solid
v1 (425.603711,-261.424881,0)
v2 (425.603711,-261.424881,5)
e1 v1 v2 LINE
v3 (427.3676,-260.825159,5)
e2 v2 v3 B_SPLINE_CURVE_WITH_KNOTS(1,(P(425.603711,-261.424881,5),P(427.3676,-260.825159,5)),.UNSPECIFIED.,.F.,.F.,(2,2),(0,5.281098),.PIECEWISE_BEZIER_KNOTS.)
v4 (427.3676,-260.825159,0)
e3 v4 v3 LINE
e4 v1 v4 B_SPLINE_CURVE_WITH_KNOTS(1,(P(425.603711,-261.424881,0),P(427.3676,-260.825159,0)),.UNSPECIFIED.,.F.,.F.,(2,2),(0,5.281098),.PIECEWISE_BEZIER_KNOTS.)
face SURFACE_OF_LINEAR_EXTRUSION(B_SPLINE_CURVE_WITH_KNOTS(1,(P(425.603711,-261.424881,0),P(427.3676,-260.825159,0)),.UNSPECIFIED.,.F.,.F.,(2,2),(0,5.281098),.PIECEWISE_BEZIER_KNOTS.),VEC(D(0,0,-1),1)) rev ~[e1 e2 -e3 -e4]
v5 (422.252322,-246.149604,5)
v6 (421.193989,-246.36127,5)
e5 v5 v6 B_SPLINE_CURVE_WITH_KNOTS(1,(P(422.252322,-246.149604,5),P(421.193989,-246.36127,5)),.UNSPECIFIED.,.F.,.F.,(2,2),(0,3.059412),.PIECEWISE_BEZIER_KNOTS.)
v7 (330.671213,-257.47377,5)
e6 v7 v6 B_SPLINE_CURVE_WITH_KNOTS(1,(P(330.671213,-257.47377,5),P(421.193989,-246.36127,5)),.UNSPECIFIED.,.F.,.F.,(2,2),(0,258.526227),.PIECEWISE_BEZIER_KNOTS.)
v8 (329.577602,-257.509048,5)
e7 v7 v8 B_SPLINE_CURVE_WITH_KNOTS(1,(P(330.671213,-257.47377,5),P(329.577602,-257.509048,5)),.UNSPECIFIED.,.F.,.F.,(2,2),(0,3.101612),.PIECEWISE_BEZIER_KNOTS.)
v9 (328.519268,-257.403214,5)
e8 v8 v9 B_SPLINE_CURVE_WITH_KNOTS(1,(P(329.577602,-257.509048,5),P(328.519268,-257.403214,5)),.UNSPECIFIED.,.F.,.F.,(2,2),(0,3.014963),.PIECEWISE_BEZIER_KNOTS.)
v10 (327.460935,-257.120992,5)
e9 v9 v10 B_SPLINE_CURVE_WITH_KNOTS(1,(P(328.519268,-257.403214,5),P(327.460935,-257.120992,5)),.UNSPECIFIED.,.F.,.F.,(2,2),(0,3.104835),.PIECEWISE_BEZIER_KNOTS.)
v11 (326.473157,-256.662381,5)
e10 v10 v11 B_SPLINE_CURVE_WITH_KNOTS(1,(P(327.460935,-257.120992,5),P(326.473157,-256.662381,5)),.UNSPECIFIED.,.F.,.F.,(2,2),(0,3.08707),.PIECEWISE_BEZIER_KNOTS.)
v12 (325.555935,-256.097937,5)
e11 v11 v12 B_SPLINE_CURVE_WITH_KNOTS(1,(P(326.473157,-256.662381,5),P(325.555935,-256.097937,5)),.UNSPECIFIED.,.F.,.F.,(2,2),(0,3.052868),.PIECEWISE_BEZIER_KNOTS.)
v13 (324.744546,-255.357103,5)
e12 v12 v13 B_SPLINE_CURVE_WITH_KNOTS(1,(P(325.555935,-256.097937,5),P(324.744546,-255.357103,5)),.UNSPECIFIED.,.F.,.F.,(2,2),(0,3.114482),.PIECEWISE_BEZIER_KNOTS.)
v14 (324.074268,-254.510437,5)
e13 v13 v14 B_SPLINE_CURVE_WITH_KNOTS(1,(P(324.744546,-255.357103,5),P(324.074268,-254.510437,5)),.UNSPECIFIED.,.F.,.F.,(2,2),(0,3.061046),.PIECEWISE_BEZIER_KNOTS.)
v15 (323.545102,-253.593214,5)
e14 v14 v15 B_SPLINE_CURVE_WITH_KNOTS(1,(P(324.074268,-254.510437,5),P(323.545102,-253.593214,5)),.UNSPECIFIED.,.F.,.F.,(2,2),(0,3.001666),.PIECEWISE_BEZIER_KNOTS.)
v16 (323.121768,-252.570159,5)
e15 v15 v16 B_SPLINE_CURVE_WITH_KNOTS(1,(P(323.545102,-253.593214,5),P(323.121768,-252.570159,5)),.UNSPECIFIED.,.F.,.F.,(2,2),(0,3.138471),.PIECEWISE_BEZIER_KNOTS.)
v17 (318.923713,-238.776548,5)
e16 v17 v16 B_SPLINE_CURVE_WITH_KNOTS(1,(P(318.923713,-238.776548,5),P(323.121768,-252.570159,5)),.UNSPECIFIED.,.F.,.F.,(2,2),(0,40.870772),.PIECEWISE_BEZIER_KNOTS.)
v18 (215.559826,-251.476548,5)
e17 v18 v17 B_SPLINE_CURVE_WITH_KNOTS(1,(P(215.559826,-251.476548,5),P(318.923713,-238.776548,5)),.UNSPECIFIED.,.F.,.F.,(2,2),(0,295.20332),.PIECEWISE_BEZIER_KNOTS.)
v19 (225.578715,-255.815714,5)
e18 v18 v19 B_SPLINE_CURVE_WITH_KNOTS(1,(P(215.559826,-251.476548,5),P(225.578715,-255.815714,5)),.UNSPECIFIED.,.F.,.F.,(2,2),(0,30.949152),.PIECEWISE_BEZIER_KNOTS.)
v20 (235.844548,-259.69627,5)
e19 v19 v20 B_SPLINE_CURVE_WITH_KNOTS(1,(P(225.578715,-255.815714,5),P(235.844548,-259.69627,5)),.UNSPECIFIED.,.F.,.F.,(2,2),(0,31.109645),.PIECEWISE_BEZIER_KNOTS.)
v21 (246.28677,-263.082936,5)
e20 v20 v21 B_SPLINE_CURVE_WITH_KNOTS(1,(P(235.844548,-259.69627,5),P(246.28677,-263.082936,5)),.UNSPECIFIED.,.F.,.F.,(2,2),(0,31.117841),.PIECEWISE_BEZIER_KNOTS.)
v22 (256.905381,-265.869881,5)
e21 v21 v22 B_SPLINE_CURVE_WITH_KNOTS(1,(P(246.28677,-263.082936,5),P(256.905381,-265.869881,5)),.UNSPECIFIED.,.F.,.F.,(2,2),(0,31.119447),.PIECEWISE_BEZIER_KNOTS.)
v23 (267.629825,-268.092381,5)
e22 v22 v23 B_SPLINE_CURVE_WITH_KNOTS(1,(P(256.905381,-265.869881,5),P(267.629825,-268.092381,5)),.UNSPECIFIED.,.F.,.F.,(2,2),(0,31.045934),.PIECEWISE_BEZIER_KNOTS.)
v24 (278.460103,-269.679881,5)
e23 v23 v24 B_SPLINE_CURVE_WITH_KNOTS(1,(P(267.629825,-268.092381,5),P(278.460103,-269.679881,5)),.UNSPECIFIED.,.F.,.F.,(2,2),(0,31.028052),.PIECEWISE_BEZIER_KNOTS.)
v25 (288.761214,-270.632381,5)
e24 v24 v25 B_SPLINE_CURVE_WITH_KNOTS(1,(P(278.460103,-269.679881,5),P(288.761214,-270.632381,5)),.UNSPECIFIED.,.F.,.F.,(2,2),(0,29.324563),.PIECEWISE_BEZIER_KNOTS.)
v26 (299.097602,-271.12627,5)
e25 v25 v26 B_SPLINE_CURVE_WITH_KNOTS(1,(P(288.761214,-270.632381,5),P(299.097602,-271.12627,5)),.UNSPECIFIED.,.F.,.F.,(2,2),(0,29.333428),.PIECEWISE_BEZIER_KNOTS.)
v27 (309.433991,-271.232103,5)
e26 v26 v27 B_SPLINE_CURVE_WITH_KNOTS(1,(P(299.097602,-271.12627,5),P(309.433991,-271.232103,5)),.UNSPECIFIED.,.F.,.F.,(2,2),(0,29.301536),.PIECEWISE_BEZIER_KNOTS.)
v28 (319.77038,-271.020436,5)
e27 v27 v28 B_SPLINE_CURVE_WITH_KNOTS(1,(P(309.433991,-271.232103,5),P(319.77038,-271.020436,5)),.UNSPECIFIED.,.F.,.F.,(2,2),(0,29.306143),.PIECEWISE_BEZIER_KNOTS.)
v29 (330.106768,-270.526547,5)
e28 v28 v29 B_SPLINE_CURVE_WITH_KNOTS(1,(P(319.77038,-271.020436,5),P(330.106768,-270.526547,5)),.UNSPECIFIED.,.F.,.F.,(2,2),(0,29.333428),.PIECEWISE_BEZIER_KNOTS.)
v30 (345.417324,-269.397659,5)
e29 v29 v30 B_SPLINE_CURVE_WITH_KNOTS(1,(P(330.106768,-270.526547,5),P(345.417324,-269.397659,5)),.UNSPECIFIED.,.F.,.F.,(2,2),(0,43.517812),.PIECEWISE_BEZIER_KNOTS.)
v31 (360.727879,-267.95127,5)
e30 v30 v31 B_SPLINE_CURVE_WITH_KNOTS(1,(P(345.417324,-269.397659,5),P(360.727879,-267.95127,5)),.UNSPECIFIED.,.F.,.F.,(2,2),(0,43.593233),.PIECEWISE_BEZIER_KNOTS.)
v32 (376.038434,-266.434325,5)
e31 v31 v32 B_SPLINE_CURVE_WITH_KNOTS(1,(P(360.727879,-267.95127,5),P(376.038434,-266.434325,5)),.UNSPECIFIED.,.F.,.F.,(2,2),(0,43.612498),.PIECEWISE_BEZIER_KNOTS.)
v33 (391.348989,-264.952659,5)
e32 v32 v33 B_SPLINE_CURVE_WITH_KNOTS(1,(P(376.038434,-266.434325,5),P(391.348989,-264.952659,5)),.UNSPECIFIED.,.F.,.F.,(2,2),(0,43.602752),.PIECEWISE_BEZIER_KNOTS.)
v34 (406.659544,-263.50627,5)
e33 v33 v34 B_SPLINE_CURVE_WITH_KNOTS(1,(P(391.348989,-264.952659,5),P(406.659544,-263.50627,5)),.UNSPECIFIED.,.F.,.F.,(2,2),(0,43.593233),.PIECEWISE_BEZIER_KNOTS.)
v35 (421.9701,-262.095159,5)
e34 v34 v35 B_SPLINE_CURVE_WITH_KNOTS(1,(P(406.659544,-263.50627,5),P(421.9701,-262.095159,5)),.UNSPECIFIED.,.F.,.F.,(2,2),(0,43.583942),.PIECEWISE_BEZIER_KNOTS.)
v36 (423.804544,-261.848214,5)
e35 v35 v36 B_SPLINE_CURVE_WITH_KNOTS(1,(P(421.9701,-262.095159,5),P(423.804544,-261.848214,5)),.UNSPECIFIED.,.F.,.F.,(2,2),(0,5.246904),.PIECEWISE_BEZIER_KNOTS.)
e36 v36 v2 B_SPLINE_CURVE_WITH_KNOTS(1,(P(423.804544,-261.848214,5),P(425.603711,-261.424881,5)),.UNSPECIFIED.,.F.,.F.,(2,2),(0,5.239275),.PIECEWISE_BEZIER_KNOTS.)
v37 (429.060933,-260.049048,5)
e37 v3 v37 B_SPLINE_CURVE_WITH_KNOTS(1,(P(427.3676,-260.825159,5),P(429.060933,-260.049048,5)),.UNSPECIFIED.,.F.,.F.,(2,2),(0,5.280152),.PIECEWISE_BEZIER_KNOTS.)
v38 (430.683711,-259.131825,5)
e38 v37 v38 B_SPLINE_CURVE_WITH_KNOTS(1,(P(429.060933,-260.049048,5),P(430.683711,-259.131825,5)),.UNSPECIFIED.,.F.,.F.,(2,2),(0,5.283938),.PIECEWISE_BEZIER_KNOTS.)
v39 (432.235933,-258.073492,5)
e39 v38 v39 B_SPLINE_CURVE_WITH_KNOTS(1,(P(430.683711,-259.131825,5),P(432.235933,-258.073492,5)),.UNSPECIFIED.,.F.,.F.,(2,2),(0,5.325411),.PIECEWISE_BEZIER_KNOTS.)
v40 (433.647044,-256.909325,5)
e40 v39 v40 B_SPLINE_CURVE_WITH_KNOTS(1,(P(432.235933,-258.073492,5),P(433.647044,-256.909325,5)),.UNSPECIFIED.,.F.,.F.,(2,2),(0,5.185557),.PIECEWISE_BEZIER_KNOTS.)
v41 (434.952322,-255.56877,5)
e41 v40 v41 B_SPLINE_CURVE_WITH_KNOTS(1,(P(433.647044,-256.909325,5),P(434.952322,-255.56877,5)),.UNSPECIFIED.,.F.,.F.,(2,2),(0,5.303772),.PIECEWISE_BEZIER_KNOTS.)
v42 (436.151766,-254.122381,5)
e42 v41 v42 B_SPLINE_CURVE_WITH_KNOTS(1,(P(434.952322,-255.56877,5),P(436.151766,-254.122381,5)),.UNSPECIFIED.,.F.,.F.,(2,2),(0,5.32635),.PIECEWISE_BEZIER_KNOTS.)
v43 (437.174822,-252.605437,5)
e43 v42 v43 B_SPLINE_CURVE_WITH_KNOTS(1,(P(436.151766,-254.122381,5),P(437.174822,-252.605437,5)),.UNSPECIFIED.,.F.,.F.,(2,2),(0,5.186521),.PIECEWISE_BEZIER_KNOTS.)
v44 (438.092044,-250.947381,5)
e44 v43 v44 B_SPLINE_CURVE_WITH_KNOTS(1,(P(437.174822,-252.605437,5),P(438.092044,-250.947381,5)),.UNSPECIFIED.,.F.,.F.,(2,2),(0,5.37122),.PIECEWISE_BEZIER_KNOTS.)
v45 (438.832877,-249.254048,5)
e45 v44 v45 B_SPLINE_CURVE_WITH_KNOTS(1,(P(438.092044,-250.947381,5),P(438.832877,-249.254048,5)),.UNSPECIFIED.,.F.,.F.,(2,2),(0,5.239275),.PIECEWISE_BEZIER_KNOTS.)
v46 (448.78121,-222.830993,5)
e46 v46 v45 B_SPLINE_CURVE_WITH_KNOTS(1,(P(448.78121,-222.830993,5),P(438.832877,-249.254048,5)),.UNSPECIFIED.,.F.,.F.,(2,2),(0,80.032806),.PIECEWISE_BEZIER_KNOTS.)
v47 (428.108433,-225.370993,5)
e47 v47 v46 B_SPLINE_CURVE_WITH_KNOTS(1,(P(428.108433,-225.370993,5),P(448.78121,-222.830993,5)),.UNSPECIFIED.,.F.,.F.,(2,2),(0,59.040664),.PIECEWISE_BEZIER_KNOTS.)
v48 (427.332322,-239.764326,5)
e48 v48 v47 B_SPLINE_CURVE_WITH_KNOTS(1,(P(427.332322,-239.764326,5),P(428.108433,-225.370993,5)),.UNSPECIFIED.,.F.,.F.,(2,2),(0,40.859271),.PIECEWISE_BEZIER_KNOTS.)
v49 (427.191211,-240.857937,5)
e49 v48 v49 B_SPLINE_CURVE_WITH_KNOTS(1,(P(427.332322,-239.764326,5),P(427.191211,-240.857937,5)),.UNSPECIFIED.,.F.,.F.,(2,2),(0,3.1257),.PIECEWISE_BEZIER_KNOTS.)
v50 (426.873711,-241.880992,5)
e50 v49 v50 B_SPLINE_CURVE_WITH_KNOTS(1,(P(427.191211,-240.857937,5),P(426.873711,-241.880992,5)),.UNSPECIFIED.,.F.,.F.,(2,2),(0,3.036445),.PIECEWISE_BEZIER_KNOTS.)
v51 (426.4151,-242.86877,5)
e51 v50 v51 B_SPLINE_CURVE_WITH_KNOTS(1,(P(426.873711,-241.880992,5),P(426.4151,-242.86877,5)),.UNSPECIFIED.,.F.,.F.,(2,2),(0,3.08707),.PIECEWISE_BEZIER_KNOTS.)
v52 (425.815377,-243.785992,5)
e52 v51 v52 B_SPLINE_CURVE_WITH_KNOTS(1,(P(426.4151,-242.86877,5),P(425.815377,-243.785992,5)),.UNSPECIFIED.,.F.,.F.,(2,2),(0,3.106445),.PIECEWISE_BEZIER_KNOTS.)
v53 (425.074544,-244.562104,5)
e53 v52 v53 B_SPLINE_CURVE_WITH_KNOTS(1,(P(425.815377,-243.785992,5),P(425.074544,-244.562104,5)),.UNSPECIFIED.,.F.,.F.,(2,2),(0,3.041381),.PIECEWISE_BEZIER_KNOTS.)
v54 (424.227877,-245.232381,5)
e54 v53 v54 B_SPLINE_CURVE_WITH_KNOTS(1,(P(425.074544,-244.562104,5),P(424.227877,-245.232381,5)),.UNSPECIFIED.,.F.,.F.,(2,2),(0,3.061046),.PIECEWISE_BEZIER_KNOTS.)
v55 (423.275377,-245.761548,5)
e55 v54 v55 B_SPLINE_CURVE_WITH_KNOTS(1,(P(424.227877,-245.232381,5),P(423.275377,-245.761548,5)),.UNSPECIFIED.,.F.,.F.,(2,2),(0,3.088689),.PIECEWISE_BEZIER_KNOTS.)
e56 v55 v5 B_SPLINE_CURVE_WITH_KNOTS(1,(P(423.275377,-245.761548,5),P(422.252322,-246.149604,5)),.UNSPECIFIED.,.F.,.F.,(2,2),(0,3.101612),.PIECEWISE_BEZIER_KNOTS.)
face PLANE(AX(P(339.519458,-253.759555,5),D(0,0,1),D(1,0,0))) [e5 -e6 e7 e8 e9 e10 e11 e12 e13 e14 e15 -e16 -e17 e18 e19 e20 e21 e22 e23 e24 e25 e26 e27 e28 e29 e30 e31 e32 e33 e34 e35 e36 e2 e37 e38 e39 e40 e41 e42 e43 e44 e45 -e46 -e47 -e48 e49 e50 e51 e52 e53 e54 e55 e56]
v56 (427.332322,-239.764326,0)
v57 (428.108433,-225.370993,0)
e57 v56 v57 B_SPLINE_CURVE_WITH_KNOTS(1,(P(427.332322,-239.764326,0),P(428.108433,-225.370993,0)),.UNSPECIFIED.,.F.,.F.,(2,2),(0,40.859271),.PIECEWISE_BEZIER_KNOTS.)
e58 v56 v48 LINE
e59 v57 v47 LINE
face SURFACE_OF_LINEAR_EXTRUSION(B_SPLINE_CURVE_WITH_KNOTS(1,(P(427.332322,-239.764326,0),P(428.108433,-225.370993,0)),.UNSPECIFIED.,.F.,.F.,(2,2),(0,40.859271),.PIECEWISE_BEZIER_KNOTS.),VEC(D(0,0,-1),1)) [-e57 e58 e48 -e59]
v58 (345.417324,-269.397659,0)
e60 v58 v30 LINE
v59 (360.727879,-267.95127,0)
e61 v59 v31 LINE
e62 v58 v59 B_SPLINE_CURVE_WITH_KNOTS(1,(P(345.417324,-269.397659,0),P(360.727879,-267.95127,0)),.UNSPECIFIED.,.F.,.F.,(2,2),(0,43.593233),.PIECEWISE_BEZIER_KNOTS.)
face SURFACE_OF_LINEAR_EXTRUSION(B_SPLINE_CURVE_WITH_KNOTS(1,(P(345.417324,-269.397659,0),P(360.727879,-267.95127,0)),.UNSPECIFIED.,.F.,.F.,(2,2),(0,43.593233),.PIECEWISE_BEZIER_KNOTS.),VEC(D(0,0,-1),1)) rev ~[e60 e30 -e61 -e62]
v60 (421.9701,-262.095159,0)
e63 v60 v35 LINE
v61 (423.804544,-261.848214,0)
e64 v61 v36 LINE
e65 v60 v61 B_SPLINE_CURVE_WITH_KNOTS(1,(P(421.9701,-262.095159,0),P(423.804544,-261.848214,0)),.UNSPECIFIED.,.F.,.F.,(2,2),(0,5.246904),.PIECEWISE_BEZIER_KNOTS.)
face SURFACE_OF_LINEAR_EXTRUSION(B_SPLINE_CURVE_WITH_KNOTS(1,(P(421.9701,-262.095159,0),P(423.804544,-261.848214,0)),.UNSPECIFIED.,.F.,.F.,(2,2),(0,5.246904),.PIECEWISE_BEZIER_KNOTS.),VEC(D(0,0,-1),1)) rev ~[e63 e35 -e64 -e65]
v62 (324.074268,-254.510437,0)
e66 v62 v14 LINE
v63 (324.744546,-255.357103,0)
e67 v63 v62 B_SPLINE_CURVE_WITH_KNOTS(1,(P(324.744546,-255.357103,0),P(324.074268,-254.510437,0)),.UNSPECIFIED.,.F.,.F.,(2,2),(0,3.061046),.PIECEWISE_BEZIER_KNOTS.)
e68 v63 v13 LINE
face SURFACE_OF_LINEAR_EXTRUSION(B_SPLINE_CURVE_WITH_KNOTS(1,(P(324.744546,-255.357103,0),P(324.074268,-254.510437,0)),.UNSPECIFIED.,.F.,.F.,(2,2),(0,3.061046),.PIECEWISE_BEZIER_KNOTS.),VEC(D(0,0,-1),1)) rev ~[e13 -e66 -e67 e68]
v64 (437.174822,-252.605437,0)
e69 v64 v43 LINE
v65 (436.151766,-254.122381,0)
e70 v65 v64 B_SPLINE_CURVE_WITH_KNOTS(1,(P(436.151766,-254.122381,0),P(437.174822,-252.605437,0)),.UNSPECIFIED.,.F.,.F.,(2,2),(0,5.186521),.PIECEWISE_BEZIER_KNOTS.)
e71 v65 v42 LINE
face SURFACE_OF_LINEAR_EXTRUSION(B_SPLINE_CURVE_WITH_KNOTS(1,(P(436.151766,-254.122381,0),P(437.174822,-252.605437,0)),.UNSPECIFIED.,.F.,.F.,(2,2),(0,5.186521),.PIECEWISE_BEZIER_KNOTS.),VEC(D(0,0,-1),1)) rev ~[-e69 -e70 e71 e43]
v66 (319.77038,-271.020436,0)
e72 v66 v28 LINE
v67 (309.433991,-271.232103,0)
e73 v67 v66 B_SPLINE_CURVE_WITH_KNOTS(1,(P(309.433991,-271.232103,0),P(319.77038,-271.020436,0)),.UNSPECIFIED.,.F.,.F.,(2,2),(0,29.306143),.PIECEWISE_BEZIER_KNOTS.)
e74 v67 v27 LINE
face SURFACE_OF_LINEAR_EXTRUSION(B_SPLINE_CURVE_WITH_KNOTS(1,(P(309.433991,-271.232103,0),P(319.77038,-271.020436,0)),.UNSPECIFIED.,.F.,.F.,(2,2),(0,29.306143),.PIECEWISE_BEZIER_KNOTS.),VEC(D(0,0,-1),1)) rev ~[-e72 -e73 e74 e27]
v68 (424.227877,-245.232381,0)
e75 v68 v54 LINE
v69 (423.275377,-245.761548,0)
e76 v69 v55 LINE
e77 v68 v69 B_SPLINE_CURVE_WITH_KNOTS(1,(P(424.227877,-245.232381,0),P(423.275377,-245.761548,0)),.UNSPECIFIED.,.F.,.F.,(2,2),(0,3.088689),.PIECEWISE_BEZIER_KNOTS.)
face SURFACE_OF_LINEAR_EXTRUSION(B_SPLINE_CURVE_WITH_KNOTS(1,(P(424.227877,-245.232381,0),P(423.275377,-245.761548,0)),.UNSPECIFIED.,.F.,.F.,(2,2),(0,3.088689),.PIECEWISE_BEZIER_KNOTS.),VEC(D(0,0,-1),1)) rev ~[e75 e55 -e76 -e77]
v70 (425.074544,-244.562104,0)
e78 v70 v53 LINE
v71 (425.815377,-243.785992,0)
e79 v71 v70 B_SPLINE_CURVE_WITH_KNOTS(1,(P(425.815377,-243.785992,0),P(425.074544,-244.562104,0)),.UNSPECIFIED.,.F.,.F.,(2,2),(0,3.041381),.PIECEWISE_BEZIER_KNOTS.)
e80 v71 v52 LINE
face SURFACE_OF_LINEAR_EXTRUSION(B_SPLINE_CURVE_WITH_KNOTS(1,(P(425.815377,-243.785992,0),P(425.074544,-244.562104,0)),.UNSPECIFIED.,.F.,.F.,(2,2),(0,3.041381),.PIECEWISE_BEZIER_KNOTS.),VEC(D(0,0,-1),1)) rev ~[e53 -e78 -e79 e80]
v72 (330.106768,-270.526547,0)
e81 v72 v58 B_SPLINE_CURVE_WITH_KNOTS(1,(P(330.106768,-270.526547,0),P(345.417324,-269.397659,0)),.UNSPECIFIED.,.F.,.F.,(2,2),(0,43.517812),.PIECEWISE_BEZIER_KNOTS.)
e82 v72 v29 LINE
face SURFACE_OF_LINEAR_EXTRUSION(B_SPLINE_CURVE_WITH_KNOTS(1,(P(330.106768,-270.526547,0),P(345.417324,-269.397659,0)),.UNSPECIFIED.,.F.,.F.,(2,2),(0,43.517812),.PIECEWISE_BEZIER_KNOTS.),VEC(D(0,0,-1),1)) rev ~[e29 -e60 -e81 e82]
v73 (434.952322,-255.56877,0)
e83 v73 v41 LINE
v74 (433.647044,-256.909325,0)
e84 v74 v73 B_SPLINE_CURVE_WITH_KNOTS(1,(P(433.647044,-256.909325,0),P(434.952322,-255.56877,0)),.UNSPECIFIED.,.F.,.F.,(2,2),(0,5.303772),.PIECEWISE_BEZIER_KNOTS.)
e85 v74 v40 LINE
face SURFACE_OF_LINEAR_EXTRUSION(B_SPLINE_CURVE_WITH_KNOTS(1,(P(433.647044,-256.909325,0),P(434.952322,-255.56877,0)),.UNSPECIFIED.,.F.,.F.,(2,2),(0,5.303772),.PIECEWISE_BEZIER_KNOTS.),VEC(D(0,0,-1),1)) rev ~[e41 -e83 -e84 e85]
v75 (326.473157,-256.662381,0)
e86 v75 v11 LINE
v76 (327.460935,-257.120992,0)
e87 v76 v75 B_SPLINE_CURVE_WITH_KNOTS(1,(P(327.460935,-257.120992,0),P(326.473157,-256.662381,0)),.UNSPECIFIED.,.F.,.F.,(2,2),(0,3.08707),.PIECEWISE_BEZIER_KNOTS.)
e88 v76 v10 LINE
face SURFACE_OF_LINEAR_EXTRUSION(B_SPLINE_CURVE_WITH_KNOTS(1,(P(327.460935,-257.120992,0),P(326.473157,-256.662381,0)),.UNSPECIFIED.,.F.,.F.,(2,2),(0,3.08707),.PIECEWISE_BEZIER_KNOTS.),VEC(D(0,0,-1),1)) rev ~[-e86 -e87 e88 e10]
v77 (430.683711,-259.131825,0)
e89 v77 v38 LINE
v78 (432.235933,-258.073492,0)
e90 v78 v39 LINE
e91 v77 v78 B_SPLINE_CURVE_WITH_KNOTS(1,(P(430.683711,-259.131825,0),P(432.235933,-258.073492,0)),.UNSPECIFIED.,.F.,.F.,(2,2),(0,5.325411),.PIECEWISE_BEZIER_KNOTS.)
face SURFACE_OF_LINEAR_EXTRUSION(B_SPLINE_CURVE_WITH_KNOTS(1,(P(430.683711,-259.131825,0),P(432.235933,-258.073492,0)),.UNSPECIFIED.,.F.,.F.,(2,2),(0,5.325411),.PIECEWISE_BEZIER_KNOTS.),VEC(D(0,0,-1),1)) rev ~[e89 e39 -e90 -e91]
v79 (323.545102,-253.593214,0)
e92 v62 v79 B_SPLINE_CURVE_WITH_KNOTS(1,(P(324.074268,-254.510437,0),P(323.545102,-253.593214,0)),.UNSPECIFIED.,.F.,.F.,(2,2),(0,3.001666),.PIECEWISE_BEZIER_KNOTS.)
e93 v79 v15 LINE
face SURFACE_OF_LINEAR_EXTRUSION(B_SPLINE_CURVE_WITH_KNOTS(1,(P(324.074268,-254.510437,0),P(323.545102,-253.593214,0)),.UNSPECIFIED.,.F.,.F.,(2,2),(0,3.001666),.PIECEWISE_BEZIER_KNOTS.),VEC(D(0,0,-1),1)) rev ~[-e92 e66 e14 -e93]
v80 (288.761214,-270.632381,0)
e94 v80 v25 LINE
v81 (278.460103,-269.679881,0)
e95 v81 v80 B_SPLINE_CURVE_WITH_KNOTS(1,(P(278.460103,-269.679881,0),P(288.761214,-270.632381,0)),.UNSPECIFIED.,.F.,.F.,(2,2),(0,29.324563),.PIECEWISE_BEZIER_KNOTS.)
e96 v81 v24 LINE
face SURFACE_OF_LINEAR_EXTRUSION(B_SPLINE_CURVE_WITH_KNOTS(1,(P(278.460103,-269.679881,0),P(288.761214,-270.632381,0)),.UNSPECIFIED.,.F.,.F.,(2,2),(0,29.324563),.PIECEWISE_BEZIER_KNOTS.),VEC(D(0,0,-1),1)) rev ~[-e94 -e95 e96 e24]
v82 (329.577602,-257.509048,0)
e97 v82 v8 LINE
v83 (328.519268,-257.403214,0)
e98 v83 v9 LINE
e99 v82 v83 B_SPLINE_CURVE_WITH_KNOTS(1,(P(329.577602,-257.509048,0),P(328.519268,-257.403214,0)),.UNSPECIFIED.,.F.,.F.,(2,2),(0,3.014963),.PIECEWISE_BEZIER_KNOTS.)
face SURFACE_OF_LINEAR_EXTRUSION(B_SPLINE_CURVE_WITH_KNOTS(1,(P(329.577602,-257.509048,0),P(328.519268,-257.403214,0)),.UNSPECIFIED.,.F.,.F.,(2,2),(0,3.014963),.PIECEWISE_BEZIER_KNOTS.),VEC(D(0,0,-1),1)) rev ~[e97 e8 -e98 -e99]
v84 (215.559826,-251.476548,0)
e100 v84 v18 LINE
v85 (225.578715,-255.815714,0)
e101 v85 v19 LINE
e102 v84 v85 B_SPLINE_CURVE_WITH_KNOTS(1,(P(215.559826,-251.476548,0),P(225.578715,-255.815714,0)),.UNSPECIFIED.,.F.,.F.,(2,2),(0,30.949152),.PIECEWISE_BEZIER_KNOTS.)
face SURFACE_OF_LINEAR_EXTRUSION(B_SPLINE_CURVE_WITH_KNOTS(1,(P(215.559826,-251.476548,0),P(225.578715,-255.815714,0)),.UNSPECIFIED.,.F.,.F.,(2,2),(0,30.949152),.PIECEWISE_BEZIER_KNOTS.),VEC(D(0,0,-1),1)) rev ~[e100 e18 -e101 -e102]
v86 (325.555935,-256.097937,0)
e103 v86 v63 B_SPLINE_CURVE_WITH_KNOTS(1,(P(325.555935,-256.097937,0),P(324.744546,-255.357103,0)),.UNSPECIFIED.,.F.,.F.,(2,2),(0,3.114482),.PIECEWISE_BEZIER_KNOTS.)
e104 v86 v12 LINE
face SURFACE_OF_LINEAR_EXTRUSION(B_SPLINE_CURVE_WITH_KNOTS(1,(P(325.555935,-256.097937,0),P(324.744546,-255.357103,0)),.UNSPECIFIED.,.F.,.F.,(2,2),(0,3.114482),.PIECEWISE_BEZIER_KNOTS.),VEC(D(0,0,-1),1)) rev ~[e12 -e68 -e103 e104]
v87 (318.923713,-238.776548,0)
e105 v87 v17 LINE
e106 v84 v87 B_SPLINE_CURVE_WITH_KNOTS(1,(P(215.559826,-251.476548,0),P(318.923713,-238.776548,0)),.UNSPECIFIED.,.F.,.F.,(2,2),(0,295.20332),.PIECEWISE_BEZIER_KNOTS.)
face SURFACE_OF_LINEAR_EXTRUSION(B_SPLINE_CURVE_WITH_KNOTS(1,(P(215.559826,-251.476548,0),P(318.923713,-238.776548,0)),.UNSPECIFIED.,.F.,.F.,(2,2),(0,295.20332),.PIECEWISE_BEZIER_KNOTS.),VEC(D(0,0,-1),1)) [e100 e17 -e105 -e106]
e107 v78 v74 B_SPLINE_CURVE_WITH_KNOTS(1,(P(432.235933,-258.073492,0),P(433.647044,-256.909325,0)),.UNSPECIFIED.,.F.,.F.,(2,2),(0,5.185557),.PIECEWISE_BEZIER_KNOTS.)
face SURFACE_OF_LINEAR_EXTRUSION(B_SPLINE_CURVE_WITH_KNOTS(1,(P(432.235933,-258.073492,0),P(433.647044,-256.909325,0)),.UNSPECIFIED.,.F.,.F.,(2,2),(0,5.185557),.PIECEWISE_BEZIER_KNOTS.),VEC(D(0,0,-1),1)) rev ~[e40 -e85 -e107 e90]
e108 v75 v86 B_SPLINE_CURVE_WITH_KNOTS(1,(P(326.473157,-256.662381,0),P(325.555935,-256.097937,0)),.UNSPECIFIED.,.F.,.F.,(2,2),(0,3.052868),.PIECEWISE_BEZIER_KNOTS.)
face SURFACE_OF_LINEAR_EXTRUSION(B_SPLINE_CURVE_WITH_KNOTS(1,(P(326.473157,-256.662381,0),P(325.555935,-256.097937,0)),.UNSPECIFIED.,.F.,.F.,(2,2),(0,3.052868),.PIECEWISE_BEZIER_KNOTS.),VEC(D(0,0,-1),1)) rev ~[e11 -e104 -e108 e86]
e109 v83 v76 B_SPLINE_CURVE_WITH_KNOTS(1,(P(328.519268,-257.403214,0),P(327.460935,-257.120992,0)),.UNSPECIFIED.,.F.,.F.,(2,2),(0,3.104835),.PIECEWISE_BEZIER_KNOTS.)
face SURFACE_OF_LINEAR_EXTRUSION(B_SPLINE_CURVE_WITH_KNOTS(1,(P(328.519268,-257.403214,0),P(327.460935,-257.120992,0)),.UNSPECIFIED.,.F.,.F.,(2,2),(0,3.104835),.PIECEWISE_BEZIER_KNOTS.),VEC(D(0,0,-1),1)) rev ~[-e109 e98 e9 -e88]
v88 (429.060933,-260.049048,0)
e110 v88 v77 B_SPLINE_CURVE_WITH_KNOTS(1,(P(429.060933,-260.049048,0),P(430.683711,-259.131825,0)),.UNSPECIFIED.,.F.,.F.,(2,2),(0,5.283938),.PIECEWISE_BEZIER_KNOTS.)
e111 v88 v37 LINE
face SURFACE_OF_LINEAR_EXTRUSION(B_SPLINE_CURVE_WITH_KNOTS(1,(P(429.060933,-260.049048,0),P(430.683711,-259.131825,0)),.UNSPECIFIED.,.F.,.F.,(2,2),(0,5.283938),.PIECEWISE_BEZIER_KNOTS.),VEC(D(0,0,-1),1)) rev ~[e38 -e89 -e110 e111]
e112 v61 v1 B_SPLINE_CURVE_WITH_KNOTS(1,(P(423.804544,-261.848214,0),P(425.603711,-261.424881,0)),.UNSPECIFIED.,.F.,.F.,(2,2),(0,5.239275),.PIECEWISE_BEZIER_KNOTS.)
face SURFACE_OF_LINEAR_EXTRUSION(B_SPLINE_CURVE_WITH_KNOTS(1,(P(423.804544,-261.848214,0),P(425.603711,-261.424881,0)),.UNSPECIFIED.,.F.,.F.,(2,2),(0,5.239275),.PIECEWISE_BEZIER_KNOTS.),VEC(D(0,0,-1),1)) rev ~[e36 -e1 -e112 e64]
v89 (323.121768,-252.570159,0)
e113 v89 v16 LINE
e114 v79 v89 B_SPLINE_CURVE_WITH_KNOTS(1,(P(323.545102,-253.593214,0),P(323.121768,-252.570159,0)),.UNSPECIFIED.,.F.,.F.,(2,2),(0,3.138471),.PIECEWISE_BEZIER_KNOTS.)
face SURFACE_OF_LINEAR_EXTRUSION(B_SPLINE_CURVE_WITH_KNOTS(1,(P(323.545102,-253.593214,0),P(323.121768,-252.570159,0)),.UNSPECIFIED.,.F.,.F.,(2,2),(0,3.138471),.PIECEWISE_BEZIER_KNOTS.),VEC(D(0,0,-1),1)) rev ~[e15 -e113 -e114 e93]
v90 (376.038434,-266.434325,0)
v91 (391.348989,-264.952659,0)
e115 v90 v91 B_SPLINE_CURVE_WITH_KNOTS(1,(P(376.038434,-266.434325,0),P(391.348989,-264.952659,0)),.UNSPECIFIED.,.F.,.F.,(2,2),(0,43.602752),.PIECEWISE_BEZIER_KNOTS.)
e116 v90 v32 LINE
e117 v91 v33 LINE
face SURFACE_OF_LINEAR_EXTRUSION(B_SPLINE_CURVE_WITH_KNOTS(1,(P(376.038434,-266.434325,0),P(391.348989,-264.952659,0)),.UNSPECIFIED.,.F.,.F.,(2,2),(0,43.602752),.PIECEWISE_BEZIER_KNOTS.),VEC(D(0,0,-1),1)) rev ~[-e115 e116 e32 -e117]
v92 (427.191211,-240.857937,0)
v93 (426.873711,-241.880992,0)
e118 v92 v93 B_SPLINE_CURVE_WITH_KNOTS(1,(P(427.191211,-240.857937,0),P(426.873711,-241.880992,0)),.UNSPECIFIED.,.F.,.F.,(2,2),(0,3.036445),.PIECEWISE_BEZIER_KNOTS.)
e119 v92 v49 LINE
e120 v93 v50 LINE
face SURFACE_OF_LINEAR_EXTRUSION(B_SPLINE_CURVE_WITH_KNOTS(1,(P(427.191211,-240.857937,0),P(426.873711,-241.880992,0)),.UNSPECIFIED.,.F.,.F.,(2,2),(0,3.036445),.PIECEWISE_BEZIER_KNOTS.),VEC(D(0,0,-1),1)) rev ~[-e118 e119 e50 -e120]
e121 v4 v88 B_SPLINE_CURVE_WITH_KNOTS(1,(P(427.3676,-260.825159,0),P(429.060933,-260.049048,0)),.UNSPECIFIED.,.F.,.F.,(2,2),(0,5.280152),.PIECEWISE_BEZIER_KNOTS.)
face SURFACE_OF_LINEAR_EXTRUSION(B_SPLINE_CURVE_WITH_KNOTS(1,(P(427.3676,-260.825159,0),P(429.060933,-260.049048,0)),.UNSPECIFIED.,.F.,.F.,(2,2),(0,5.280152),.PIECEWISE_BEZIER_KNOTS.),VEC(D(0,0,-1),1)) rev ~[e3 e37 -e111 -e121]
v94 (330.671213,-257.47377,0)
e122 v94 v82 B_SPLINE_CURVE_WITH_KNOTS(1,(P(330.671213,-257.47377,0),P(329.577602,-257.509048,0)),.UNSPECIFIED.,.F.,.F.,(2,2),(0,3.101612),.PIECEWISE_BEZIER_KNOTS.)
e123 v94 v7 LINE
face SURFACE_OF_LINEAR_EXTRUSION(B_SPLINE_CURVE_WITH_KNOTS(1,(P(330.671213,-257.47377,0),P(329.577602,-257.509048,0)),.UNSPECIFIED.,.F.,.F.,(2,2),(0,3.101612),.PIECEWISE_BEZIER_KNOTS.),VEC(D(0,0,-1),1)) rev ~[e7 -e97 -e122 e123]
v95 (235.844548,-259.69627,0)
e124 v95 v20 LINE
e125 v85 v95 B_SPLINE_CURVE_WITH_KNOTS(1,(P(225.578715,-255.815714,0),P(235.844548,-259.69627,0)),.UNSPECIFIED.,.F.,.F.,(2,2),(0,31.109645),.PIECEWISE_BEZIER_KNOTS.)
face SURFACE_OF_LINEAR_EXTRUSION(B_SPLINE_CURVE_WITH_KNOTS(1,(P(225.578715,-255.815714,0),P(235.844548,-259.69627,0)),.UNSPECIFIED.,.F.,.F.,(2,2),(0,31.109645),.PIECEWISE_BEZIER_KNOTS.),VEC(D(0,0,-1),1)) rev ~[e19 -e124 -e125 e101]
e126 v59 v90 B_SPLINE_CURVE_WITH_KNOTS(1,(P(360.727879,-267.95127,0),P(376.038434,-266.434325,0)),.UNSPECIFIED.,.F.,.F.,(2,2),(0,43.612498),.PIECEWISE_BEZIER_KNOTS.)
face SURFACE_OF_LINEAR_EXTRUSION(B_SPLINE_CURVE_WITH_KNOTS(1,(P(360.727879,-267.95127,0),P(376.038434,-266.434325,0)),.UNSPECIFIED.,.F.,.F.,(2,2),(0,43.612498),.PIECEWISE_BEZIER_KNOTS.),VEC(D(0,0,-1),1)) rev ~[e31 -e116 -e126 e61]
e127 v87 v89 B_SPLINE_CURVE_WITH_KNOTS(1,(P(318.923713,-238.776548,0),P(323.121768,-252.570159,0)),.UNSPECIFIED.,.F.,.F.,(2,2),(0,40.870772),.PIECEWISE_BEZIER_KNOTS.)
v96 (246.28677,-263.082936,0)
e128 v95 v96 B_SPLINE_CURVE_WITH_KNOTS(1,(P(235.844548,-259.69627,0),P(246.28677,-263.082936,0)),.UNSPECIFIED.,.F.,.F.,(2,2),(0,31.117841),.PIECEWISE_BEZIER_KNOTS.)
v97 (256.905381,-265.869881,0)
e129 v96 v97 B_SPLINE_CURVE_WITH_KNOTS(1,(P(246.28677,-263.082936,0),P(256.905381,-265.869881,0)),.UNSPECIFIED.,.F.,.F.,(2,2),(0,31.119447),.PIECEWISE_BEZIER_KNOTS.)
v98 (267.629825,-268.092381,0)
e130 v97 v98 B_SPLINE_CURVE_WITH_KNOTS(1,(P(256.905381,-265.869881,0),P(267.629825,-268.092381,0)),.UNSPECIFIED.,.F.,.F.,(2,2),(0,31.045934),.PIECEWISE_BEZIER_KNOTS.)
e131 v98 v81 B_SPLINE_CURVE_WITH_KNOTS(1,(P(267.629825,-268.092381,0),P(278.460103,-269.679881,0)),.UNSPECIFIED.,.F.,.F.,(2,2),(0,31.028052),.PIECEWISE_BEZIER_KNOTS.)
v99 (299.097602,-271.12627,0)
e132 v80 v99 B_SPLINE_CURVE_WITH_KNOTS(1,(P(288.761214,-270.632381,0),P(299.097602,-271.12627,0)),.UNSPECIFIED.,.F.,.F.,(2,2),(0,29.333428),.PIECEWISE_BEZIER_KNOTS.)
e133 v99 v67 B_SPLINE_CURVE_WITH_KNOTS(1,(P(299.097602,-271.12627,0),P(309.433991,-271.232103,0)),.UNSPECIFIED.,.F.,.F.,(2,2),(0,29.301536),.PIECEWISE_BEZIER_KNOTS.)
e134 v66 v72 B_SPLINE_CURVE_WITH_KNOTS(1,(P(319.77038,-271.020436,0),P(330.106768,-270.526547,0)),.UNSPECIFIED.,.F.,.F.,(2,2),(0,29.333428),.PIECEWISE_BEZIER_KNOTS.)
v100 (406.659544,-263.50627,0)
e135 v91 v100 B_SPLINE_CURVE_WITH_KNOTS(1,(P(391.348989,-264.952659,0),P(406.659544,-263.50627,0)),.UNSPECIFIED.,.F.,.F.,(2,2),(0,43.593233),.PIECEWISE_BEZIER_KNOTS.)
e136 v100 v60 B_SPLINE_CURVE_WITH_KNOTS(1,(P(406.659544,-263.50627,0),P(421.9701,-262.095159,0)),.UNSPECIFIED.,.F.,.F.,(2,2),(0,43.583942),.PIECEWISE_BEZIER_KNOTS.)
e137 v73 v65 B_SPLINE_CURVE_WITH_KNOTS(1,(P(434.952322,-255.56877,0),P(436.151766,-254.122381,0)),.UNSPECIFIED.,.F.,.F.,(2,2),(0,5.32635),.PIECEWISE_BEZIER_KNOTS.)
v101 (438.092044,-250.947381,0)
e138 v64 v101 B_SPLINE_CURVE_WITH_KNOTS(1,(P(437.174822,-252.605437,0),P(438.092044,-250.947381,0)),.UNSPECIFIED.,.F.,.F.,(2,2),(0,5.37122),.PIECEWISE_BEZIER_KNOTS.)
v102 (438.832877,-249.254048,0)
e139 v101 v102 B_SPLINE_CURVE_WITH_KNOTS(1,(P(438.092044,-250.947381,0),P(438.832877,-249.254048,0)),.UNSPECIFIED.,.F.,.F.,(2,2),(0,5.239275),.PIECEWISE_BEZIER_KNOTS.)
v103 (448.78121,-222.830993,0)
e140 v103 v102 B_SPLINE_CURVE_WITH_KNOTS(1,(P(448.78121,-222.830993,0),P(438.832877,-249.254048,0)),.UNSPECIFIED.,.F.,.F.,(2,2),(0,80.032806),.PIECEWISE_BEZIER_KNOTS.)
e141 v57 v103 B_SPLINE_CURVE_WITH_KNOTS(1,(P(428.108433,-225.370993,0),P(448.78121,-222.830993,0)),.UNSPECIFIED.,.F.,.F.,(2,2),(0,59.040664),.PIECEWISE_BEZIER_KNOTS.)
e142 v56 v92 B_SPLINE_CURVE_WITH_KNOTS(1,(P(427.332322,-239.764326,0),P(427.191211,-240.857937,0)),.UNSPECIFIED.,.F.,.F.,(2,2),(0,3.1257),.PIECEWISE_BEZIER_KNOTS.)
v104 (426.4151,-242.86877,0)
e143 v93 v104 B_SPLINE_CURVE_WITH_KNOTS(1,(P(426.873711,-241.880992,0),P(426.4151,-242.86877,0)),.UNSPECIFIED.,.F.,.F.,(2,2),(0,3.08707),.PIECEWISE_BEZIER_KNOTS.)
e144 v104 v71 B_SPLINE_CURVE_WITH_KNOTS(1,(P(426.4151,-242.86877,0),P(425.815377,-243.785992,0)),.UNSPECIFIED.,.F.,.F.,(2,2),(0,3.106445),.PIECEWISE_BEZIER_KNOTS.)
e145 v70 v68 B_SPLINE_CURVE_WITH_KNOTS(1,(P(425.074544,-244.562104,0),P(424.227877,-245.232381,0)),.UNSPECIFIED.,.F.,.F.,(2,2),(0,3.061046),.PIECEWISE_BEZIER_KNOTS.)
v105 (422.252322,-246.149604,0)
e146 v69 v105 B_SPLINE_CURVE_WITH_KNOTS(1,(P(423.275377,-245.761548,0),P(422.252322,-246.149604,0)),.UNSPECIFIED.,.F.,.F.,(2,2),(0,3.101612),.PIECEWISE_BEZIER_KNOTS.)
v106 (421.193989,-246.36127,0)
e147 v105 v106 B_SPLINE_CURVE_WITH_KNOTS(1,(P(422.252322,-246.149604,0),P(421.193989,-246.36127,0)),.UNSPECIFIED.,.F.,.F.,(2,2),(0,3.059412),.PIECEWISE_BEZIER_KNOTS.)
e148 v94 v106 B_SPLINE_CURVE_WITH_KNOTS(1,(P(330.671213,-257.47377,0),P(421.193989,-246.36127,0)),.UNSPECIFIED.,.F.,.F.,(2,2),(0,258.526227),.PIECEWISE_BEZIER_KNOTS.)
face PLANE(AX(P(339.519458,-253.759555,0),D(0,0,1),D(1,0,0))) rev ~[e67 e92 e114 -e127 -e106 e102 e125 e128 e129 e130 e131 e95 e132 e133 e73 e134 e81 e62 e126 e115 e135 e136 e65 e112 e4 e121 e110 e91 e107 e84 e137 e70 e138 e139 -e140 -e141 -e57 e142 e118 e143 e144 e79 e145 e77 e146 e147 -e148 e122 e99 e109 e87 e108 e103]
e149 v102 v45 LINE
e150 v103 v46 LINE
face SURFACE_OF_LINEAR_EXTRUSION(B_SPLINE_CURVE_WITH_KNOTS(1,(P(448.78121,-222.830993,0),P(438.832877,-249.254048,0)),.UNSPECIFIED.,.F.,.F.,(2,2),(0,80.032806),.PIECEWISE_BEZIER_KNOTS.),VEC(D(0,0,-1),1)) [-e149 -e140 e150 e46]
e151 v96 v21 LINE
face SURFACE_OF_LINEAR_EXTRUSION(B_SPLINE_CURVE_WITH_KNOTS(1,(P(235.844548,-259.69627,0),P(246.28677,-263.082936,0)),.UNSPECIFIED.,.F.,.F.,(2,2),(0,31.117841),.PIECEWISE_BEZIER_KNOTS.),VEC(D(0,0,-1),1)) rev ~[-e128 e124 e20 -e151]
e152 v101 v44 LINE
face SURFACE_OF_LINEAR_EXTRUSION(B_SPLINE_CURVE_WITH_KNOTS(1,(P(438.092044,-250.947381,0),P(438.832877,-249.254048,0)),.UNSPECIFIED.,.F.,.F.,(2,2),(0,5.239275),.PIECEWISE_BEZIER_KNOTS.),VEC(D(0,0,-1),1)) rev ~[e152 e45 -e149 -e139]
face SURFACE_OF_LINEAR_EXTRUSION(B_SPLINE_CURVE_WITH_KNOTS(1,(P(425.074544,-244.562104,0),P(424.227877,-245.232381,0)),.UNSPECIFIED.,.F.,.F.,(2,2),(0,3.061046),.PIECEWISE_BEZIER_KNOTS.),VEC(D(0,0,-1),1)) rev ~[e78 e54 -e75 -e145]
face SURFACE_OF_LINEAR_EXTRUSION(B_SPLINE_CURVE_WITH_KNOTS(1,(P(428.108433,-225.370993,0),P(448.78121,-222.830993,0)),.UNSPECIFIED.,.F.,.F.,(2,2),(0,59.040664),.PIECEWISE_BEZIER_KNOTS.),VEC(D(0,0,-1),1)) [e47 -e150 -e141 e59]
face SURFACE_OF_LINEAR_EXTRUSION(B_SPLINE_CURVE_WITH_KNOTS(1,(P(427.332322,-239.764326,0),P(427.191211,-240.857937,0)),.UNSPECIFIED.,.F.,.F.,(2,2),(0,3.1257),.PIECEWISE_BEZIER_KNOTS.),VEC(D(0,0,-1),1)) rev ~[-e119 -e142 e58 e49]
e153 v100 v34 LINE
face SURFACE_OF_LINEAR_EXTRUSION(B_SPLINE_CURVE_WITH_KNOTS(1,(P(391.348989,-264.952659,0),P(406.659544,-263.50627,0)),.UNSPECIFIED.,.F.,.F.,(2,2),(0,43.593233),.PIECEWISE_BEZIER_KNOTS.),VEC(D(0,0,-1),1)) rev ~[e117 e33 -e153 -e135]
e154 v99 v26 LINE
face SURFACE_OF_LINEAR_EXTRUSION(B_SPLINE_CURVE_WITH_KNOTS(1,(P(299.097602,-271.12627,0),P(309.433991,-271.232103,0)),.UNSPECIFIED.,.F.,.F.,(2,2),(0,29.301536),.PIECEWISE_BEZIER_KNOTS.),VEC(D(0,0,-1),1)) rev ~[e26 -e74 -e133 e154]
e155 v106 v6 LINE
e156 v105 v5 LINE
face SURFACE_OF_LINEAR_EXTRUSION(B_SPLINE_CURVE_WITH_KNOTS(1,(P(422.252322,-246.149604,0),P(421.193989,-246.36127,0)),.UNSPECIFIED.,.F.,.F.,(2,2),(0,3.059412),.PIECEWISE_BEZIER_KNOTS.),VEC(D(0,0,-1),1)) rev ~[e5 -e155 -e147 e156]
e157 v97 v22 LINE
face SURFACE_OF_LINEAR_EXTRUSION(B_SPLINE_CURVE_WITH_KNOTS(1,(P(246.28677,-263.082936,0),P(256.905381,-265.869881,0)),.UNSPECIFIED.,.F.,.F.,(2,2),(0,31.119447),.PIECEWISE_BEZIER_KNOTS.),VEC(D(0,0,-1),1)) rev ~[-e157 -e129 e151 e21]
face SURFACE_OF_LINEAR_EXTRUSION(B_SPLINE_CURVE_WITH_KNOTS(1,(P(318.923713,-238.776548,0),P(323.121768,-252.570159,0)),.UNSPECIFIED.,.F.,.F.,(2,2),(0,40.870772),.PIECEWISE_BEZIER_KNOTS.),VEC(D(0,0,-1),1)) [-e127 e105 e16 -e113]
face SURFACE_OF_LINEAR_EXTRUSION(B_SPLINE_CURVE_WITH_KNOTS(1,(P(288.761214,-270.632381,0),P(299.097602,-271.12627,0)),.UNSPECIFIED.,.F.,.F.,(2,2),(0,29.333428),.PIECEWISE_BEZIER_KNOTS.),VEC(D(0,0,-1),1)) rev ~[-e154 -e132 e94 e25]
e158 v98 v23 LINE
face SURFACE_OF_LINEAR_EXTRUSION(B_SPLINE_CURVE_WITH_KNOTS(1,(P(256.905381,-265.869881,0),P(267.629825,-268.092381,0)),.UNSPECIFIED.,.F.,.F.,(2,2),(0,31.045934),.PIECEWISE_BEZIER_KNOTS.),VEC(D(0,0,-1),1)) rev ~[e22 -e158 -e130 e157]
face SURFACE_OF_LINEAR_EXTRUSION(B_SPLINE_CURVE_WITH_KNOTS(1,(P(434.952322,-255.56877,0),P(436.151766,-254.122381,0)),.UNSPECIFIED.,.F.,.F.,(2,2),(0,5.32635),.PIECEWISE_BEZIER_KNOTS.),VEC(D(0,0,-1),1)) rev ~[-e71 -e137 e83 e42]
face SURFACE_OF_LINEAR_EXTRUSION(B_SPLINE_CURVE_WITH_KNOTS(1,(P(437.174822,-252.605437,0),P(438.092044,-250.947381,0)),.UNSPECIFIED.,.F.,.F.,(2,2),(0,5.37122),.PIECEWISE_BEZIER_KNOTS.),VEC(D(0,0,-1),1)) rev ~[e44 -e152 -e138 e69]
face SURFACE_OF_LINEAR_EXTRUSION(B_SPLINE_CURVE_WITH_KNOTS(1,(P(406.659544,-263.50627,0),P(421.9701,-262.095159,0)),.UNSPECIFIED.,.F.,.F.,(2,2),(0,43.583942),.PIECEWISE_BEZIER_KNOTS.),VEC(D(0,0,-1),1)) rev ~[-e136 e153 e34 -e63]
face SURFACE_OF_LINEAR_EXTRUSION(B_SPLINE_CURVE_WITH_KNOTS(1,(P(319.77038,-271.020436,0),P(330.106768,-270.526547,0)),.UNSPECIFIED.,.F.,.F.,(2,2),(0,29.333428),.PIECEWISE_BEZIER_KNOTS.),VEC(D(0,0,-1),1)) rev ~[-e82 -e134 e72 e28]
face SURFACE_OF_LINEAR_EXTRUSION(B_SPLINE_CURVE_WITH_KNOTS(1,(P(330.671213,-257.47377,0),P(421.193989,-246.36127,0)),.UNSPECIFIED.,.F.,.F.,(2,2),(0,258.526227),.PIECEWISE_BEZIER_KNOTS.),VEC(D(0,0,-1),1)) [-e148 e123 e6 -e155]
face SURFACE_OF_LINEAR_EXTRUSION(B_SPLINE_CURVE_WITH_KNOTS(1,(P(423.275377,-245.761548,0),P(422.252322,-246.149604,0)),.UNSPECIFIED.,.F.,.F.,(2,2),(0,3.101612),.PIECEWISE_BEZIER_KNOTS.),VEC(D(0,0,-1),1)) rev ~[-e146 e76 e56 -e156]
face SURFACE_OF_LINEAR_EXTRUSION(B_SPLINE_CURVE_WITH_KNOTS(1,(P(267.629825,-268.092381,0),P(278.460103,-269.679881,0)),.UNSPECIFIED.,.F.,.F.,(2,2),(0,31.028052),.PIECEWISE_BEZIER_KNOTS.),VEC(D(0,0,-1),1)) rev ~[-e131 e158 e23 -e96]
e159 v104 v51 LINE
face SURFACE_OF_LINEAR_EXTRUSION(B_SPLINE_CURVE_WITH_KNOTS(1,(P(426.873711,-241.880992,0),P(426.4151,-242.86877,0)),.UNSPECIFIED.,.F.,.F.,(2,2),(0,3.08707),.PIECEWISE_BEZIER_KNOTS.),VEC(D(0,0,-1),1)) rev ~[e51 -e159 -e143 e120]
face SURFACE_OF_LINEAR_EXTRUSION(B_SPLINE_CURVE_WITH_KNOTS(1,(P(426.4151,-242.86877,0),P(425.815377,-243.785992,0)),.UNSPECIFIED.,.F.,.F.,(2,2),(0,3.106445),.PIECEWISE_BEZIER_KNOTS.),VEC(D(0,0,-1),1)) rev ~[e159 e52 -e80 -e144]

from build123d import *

# Parameters (mm, degrees)
PAD005_DEPTH = 5


with BuildPart() as part:
    # Sketch005 → Pad005 (new body)
    with BuildSketch(Plane.XY):
        with BuildLine():
            add(Edge.make_bspline(
                [(427.332322, -239.764326), (427.191211, -240.857937)],
                knots=[0, 0, 3.1257, 3.1257], degree=1))
            add(Edge.make_bspline(
                [(427.191211, -240.857937), (426.873711, -241.880992)],
                knots=[0, 0, 3.036445, 3.036445], degree=1))
            add(Edge.make_bspline(
                [(426.873711, -241.880992), (426.4151, -242.86877)],
                knots=[0, 0, 3.08707, 3.08707], degree=1))
            add(Edge.make_bspline(
                [(426.4151, -242.86877), (425.815377, -243.785992)],
                knots=[0, 0, 3.106445, 3.106445], degree=1))
            add(Edge.make_bspline(
                [(425.815377, -243.785992), (425.074544, -244.562104)],
                knots=[0, 0, 3.041381, 3.041381], degree=1))
            add(Edge.make_bspline(
                [(425.074544, -244.562104), (424.227877, -245.232381)],
                knots=[0, 0, 3.061046, 3.061046], degree=1))
            add(Edge.make_bspline(
                [(424.227877, -245.232381), (423.275377, -245.761548)],
                knots=[0, 0, 3.088689, 3.088689], degree=1))
            add(Edge.make_bspline(
                [(423.275377, -245.761548), (422.252322, -246.149604)],
                knots=[0, 0, 3.101612, 3.101612], degree=1))
            add(Edge.make_bspline(
                [(422.252322, -246.149604), (421.193989, -246.36127)],
                knots=[0, 0, 3.059412, 3.059412], degree=1))
            add(Edge.make_bspline(
                [(330.671213, -257.47377), (421.193989, -246.36127)],
                knots=[0, 0, 258.526227, 258.526227], degree=1))
            add(Edge.make_bspline(
                [(330.671213, -257.47377), (329.577602, -257.509048)],
                knots=[0, 0, 3.101612, 3.101612], degree=1))
            add(Edge.make_bspline(
                [(329.577602, -257.509048), (328.519268, -257.403214)],
                knots=[0, 0, 3.014963, 3.014963], degree=1))
            add(Edge.make_bspline(
                [(328.519268, -257.403214), (327.460935, -257.120992)],
                knots=[0, 0, 3.104835, 3.104835], degree=1))
            add(Edge.make_bspline(
                [(327.460935, -257.120992), (326.473157, -256.662381)],
                knots=[0, 0, 3.08707, 3.08707], degree=1))
            add(Edge.make_bspline(
                [(326.473157, -256.662381), (325.555935, -256.097937)],
                knots=[0, 0, 3.052868, 3.052868], degree=1))
            add(Edge.make_bspline(
                [(325.555935, -256.097937), (324.744546, -255.357103)],
                knots=[0, 0, 3.114482, 3.114482], degree=1))
            add(Edge.make_bspline(
                [(324.744546, -255.357103), (324.074268, -254.510437)],
                knots=[0, 0, 3.061046, 3.061046], degree=1))
            add(Edge.make_bspline(
                [(324.074268, -254.510437), (323.545102, -253.593214)],
                knots=[0, 0, 3.001666, 3.001666], degree=1))
            add(Edge.make_bspline(
                [(323.545102, -253.593214), (323.121768, -252.570159)],
                knots=[0, 0, 3.138471, 3.138471], degree=1))
            add(Edge.make_bspline(
                [(318.923713, -238.776548), (323.121768, -252.570159)],
                knots=[0, 0, 40.870772, 40.870772], degree=1))
            add(Edge.make_bspline(
                [(215.559826, -251.476548), (318.923713, -238.776548)],
                knots=[0, 0, 295.20332, 295.20332], degree=1))
            add(Edge.make_bspline(
                [(215.559826, -251.476548), (225.578715, -255.815714)],
                knots=[0, 0, 30.949152, 30.949152], degree=1))
            add(Edge.make_bspline(
                [(225.578715, -255.815714), (235.844548, -259.69627)],
                knots=[0, 0, 31.109645, 31.109645], degree=1))
            add(Edge.make_bspline(
                [(235.844548, -259.69627), (246.28677, -263.082936)],
                knots=[0, 0, 31.117841, 31.117841], degree=1))
            add(Edge.make_bspline(
                [(246.28677, -263.082936), (256.905381, -265.869881)],
                knots=[0, 0, 31.119447, 31.119447], degree=1))
            add(Edge.make_bspline(
                [(256.905381, -265.869881), (267.629825, -268.092381)],
                knots=[0, 0, 31.045934, 31.045934], degree=1))
            add(Edge.make_bspline(
                [(267.629825, -268.092381), (278.460103, -269.679881)],
                knots=[0, 0, 31.028052, 31.028052], degree=1))
            add(Edge.make_bspline(
                [(278.460103, -269.679881), (288.761214, -270.632381)],
                knots=[0, 0, 29.324563, 29.324563], degree=1))
            add(Edge.make_bspline(
                [(288.761214, -270.632381), (299.097602, -271.12627)],
                knots=[0, 0, 29.333428, 29.333428], degree=1))
            add(Edge.make_bspline(
                [(299.097602, -271.12627), (309.433991, -271.232103)],
                knots=[0, 0, 29.301536, 29.301536], degree=1))
            add(Edge.make_bspline(
                [(309.433991, -271.232103), (319.77038, -271.020436)],
                knots=[0, 0, 29.306143, 29.306143], degree=1))
            add(Edge.make_bspline(
                [(319.77038, -271.020436), (330.106768, -270.526547)],
                knots=[0, 0, 29.333428, 29.333428], degree=1))
            add(Edge.make_bspline(
                [(330.106768, -270.526547), (345.417324, -269.397659)],
                knots=[0, 0, 43.517812, 43.517812], degree=1))
            add(Edge.make_bspline(
                [(345.417324, -269.397659), (360.727879, -267.95127)],
                knots=[0, 0, 43.593233, 43.593233], degree=1))
            add(Edge.make_bspline(
                [(360.727879, -267.95127), (376.038434, -266.434325)],
                knots=[0, 0, 43.612498, 43.612498], degree=1))
            add(Edge.make_bspline(
                [(376.038434, -266.434325), (391.348989, -264.952659)],
                knots=[0, 0, 43.602752, 43.602752], degree=1))
            add(Edge.make_bspline(
                [(391.348989, -264.952659), (406.659544, -263.50627)],
                knots=[0, 0, 43.593233, 43.593233], degree=1))
            add(Edge.make_bspline(
                [(406.659544, -263.50627), (421.9701, -262.095159)],
                knots=[0, 0, 43.583942, 43.583942], degree=1))
            add(Edge.make_bspline(
                [(421.9701, -262.095159), (423.804544, -261.848214)],
                knots=[0, 0, 5.246904, 5.246904], degree=1))
            add(Edge.make_bspline(
                [(423.804544, -261.848214), (425.603711, -261.424881)],
                knots=[0, 0, 5.239275, 5.239275], degree=1))
            add(Edge.make_bspline(
                [(425.603711, -261.424881), (427.3676, -260.825159)],
                knots=[0, 0, 5.281098, 5.281098], degree=1))
            add(Edge.make_bspline(
                [(427.3676, -260.825159), (429.060933, -260.049048)],
                knots=[0, 0, 5.280152, 5.280152], degree=1))
            add(Edge.make_bspline(
                [(429.060933, -260.049048), (430.683711, -259.131825)],
                knots=[0, 0, 5.283938, 5.283938], degree=1))
            add(Edge.make_bspline(
                [(430.683711, -259.131825), (432.235933, -258.073492)],
                knots=[0, 0, 5.325411, 5.325411], degree=1))
            add(Edge.make_bspline(
                [(432.235933, -258.073492), (433.647044, -256.909325)],
                knots=[0, 0, 5.185557, 5.185557], degree=1))
            add(Edge.make_bspline(
                [(433.647044, -256.909325), (434.952322, -255.56877)],
                knots=[0, 0, 5.303772, 5.303772], degree=1))
            add(Edge.make_bspline(
                [(434.952322, -255.56877), (436.151766, -254.122381)],
                knots=[0, 0, 5.32635, 5.32635], degree=1))
            add(Edge.make_bspline(
                [(436.151766, -254.122381), (437.174822, -252.605437)],
                knots=[0, 0, 5.186521, 5.186521], degree=1))
            add(Edge.make_bspline(
                [(437.174822, -252.605437), (438.092044, -250.947381)],
                knots=[0, 0, 5.37122, 5.37122], degree=1))
            add(Edge.make_bspline(
                [(438.092044, -250.947381), (438.832877, -249.254048)],
                knots=[0, 0, 5.239275, 5.239275], degree=1))
            add(Edge.make_bspline(
                [(448.78121, -222.830993), (438.832877, -249.254048)],
                knots=[0, 0, 80.032806, 80.032806], degree=1))
            add(Edge.make_bspline(
                [(428.108433, -225.370993), (448.78121, -222.830993)],
                knots=[0, 0, 59.040664, 59.040664], degree=1))
            add(Edge.make_bspline(
                [(427.332322, -239.764326), (428.108433, -225.370993)],
                knots=[0, 0, 40.859271, 40.859271], degree=1))
        make_face()
    extrude(amount=PAD005_DEPTH)


solid = part.part
